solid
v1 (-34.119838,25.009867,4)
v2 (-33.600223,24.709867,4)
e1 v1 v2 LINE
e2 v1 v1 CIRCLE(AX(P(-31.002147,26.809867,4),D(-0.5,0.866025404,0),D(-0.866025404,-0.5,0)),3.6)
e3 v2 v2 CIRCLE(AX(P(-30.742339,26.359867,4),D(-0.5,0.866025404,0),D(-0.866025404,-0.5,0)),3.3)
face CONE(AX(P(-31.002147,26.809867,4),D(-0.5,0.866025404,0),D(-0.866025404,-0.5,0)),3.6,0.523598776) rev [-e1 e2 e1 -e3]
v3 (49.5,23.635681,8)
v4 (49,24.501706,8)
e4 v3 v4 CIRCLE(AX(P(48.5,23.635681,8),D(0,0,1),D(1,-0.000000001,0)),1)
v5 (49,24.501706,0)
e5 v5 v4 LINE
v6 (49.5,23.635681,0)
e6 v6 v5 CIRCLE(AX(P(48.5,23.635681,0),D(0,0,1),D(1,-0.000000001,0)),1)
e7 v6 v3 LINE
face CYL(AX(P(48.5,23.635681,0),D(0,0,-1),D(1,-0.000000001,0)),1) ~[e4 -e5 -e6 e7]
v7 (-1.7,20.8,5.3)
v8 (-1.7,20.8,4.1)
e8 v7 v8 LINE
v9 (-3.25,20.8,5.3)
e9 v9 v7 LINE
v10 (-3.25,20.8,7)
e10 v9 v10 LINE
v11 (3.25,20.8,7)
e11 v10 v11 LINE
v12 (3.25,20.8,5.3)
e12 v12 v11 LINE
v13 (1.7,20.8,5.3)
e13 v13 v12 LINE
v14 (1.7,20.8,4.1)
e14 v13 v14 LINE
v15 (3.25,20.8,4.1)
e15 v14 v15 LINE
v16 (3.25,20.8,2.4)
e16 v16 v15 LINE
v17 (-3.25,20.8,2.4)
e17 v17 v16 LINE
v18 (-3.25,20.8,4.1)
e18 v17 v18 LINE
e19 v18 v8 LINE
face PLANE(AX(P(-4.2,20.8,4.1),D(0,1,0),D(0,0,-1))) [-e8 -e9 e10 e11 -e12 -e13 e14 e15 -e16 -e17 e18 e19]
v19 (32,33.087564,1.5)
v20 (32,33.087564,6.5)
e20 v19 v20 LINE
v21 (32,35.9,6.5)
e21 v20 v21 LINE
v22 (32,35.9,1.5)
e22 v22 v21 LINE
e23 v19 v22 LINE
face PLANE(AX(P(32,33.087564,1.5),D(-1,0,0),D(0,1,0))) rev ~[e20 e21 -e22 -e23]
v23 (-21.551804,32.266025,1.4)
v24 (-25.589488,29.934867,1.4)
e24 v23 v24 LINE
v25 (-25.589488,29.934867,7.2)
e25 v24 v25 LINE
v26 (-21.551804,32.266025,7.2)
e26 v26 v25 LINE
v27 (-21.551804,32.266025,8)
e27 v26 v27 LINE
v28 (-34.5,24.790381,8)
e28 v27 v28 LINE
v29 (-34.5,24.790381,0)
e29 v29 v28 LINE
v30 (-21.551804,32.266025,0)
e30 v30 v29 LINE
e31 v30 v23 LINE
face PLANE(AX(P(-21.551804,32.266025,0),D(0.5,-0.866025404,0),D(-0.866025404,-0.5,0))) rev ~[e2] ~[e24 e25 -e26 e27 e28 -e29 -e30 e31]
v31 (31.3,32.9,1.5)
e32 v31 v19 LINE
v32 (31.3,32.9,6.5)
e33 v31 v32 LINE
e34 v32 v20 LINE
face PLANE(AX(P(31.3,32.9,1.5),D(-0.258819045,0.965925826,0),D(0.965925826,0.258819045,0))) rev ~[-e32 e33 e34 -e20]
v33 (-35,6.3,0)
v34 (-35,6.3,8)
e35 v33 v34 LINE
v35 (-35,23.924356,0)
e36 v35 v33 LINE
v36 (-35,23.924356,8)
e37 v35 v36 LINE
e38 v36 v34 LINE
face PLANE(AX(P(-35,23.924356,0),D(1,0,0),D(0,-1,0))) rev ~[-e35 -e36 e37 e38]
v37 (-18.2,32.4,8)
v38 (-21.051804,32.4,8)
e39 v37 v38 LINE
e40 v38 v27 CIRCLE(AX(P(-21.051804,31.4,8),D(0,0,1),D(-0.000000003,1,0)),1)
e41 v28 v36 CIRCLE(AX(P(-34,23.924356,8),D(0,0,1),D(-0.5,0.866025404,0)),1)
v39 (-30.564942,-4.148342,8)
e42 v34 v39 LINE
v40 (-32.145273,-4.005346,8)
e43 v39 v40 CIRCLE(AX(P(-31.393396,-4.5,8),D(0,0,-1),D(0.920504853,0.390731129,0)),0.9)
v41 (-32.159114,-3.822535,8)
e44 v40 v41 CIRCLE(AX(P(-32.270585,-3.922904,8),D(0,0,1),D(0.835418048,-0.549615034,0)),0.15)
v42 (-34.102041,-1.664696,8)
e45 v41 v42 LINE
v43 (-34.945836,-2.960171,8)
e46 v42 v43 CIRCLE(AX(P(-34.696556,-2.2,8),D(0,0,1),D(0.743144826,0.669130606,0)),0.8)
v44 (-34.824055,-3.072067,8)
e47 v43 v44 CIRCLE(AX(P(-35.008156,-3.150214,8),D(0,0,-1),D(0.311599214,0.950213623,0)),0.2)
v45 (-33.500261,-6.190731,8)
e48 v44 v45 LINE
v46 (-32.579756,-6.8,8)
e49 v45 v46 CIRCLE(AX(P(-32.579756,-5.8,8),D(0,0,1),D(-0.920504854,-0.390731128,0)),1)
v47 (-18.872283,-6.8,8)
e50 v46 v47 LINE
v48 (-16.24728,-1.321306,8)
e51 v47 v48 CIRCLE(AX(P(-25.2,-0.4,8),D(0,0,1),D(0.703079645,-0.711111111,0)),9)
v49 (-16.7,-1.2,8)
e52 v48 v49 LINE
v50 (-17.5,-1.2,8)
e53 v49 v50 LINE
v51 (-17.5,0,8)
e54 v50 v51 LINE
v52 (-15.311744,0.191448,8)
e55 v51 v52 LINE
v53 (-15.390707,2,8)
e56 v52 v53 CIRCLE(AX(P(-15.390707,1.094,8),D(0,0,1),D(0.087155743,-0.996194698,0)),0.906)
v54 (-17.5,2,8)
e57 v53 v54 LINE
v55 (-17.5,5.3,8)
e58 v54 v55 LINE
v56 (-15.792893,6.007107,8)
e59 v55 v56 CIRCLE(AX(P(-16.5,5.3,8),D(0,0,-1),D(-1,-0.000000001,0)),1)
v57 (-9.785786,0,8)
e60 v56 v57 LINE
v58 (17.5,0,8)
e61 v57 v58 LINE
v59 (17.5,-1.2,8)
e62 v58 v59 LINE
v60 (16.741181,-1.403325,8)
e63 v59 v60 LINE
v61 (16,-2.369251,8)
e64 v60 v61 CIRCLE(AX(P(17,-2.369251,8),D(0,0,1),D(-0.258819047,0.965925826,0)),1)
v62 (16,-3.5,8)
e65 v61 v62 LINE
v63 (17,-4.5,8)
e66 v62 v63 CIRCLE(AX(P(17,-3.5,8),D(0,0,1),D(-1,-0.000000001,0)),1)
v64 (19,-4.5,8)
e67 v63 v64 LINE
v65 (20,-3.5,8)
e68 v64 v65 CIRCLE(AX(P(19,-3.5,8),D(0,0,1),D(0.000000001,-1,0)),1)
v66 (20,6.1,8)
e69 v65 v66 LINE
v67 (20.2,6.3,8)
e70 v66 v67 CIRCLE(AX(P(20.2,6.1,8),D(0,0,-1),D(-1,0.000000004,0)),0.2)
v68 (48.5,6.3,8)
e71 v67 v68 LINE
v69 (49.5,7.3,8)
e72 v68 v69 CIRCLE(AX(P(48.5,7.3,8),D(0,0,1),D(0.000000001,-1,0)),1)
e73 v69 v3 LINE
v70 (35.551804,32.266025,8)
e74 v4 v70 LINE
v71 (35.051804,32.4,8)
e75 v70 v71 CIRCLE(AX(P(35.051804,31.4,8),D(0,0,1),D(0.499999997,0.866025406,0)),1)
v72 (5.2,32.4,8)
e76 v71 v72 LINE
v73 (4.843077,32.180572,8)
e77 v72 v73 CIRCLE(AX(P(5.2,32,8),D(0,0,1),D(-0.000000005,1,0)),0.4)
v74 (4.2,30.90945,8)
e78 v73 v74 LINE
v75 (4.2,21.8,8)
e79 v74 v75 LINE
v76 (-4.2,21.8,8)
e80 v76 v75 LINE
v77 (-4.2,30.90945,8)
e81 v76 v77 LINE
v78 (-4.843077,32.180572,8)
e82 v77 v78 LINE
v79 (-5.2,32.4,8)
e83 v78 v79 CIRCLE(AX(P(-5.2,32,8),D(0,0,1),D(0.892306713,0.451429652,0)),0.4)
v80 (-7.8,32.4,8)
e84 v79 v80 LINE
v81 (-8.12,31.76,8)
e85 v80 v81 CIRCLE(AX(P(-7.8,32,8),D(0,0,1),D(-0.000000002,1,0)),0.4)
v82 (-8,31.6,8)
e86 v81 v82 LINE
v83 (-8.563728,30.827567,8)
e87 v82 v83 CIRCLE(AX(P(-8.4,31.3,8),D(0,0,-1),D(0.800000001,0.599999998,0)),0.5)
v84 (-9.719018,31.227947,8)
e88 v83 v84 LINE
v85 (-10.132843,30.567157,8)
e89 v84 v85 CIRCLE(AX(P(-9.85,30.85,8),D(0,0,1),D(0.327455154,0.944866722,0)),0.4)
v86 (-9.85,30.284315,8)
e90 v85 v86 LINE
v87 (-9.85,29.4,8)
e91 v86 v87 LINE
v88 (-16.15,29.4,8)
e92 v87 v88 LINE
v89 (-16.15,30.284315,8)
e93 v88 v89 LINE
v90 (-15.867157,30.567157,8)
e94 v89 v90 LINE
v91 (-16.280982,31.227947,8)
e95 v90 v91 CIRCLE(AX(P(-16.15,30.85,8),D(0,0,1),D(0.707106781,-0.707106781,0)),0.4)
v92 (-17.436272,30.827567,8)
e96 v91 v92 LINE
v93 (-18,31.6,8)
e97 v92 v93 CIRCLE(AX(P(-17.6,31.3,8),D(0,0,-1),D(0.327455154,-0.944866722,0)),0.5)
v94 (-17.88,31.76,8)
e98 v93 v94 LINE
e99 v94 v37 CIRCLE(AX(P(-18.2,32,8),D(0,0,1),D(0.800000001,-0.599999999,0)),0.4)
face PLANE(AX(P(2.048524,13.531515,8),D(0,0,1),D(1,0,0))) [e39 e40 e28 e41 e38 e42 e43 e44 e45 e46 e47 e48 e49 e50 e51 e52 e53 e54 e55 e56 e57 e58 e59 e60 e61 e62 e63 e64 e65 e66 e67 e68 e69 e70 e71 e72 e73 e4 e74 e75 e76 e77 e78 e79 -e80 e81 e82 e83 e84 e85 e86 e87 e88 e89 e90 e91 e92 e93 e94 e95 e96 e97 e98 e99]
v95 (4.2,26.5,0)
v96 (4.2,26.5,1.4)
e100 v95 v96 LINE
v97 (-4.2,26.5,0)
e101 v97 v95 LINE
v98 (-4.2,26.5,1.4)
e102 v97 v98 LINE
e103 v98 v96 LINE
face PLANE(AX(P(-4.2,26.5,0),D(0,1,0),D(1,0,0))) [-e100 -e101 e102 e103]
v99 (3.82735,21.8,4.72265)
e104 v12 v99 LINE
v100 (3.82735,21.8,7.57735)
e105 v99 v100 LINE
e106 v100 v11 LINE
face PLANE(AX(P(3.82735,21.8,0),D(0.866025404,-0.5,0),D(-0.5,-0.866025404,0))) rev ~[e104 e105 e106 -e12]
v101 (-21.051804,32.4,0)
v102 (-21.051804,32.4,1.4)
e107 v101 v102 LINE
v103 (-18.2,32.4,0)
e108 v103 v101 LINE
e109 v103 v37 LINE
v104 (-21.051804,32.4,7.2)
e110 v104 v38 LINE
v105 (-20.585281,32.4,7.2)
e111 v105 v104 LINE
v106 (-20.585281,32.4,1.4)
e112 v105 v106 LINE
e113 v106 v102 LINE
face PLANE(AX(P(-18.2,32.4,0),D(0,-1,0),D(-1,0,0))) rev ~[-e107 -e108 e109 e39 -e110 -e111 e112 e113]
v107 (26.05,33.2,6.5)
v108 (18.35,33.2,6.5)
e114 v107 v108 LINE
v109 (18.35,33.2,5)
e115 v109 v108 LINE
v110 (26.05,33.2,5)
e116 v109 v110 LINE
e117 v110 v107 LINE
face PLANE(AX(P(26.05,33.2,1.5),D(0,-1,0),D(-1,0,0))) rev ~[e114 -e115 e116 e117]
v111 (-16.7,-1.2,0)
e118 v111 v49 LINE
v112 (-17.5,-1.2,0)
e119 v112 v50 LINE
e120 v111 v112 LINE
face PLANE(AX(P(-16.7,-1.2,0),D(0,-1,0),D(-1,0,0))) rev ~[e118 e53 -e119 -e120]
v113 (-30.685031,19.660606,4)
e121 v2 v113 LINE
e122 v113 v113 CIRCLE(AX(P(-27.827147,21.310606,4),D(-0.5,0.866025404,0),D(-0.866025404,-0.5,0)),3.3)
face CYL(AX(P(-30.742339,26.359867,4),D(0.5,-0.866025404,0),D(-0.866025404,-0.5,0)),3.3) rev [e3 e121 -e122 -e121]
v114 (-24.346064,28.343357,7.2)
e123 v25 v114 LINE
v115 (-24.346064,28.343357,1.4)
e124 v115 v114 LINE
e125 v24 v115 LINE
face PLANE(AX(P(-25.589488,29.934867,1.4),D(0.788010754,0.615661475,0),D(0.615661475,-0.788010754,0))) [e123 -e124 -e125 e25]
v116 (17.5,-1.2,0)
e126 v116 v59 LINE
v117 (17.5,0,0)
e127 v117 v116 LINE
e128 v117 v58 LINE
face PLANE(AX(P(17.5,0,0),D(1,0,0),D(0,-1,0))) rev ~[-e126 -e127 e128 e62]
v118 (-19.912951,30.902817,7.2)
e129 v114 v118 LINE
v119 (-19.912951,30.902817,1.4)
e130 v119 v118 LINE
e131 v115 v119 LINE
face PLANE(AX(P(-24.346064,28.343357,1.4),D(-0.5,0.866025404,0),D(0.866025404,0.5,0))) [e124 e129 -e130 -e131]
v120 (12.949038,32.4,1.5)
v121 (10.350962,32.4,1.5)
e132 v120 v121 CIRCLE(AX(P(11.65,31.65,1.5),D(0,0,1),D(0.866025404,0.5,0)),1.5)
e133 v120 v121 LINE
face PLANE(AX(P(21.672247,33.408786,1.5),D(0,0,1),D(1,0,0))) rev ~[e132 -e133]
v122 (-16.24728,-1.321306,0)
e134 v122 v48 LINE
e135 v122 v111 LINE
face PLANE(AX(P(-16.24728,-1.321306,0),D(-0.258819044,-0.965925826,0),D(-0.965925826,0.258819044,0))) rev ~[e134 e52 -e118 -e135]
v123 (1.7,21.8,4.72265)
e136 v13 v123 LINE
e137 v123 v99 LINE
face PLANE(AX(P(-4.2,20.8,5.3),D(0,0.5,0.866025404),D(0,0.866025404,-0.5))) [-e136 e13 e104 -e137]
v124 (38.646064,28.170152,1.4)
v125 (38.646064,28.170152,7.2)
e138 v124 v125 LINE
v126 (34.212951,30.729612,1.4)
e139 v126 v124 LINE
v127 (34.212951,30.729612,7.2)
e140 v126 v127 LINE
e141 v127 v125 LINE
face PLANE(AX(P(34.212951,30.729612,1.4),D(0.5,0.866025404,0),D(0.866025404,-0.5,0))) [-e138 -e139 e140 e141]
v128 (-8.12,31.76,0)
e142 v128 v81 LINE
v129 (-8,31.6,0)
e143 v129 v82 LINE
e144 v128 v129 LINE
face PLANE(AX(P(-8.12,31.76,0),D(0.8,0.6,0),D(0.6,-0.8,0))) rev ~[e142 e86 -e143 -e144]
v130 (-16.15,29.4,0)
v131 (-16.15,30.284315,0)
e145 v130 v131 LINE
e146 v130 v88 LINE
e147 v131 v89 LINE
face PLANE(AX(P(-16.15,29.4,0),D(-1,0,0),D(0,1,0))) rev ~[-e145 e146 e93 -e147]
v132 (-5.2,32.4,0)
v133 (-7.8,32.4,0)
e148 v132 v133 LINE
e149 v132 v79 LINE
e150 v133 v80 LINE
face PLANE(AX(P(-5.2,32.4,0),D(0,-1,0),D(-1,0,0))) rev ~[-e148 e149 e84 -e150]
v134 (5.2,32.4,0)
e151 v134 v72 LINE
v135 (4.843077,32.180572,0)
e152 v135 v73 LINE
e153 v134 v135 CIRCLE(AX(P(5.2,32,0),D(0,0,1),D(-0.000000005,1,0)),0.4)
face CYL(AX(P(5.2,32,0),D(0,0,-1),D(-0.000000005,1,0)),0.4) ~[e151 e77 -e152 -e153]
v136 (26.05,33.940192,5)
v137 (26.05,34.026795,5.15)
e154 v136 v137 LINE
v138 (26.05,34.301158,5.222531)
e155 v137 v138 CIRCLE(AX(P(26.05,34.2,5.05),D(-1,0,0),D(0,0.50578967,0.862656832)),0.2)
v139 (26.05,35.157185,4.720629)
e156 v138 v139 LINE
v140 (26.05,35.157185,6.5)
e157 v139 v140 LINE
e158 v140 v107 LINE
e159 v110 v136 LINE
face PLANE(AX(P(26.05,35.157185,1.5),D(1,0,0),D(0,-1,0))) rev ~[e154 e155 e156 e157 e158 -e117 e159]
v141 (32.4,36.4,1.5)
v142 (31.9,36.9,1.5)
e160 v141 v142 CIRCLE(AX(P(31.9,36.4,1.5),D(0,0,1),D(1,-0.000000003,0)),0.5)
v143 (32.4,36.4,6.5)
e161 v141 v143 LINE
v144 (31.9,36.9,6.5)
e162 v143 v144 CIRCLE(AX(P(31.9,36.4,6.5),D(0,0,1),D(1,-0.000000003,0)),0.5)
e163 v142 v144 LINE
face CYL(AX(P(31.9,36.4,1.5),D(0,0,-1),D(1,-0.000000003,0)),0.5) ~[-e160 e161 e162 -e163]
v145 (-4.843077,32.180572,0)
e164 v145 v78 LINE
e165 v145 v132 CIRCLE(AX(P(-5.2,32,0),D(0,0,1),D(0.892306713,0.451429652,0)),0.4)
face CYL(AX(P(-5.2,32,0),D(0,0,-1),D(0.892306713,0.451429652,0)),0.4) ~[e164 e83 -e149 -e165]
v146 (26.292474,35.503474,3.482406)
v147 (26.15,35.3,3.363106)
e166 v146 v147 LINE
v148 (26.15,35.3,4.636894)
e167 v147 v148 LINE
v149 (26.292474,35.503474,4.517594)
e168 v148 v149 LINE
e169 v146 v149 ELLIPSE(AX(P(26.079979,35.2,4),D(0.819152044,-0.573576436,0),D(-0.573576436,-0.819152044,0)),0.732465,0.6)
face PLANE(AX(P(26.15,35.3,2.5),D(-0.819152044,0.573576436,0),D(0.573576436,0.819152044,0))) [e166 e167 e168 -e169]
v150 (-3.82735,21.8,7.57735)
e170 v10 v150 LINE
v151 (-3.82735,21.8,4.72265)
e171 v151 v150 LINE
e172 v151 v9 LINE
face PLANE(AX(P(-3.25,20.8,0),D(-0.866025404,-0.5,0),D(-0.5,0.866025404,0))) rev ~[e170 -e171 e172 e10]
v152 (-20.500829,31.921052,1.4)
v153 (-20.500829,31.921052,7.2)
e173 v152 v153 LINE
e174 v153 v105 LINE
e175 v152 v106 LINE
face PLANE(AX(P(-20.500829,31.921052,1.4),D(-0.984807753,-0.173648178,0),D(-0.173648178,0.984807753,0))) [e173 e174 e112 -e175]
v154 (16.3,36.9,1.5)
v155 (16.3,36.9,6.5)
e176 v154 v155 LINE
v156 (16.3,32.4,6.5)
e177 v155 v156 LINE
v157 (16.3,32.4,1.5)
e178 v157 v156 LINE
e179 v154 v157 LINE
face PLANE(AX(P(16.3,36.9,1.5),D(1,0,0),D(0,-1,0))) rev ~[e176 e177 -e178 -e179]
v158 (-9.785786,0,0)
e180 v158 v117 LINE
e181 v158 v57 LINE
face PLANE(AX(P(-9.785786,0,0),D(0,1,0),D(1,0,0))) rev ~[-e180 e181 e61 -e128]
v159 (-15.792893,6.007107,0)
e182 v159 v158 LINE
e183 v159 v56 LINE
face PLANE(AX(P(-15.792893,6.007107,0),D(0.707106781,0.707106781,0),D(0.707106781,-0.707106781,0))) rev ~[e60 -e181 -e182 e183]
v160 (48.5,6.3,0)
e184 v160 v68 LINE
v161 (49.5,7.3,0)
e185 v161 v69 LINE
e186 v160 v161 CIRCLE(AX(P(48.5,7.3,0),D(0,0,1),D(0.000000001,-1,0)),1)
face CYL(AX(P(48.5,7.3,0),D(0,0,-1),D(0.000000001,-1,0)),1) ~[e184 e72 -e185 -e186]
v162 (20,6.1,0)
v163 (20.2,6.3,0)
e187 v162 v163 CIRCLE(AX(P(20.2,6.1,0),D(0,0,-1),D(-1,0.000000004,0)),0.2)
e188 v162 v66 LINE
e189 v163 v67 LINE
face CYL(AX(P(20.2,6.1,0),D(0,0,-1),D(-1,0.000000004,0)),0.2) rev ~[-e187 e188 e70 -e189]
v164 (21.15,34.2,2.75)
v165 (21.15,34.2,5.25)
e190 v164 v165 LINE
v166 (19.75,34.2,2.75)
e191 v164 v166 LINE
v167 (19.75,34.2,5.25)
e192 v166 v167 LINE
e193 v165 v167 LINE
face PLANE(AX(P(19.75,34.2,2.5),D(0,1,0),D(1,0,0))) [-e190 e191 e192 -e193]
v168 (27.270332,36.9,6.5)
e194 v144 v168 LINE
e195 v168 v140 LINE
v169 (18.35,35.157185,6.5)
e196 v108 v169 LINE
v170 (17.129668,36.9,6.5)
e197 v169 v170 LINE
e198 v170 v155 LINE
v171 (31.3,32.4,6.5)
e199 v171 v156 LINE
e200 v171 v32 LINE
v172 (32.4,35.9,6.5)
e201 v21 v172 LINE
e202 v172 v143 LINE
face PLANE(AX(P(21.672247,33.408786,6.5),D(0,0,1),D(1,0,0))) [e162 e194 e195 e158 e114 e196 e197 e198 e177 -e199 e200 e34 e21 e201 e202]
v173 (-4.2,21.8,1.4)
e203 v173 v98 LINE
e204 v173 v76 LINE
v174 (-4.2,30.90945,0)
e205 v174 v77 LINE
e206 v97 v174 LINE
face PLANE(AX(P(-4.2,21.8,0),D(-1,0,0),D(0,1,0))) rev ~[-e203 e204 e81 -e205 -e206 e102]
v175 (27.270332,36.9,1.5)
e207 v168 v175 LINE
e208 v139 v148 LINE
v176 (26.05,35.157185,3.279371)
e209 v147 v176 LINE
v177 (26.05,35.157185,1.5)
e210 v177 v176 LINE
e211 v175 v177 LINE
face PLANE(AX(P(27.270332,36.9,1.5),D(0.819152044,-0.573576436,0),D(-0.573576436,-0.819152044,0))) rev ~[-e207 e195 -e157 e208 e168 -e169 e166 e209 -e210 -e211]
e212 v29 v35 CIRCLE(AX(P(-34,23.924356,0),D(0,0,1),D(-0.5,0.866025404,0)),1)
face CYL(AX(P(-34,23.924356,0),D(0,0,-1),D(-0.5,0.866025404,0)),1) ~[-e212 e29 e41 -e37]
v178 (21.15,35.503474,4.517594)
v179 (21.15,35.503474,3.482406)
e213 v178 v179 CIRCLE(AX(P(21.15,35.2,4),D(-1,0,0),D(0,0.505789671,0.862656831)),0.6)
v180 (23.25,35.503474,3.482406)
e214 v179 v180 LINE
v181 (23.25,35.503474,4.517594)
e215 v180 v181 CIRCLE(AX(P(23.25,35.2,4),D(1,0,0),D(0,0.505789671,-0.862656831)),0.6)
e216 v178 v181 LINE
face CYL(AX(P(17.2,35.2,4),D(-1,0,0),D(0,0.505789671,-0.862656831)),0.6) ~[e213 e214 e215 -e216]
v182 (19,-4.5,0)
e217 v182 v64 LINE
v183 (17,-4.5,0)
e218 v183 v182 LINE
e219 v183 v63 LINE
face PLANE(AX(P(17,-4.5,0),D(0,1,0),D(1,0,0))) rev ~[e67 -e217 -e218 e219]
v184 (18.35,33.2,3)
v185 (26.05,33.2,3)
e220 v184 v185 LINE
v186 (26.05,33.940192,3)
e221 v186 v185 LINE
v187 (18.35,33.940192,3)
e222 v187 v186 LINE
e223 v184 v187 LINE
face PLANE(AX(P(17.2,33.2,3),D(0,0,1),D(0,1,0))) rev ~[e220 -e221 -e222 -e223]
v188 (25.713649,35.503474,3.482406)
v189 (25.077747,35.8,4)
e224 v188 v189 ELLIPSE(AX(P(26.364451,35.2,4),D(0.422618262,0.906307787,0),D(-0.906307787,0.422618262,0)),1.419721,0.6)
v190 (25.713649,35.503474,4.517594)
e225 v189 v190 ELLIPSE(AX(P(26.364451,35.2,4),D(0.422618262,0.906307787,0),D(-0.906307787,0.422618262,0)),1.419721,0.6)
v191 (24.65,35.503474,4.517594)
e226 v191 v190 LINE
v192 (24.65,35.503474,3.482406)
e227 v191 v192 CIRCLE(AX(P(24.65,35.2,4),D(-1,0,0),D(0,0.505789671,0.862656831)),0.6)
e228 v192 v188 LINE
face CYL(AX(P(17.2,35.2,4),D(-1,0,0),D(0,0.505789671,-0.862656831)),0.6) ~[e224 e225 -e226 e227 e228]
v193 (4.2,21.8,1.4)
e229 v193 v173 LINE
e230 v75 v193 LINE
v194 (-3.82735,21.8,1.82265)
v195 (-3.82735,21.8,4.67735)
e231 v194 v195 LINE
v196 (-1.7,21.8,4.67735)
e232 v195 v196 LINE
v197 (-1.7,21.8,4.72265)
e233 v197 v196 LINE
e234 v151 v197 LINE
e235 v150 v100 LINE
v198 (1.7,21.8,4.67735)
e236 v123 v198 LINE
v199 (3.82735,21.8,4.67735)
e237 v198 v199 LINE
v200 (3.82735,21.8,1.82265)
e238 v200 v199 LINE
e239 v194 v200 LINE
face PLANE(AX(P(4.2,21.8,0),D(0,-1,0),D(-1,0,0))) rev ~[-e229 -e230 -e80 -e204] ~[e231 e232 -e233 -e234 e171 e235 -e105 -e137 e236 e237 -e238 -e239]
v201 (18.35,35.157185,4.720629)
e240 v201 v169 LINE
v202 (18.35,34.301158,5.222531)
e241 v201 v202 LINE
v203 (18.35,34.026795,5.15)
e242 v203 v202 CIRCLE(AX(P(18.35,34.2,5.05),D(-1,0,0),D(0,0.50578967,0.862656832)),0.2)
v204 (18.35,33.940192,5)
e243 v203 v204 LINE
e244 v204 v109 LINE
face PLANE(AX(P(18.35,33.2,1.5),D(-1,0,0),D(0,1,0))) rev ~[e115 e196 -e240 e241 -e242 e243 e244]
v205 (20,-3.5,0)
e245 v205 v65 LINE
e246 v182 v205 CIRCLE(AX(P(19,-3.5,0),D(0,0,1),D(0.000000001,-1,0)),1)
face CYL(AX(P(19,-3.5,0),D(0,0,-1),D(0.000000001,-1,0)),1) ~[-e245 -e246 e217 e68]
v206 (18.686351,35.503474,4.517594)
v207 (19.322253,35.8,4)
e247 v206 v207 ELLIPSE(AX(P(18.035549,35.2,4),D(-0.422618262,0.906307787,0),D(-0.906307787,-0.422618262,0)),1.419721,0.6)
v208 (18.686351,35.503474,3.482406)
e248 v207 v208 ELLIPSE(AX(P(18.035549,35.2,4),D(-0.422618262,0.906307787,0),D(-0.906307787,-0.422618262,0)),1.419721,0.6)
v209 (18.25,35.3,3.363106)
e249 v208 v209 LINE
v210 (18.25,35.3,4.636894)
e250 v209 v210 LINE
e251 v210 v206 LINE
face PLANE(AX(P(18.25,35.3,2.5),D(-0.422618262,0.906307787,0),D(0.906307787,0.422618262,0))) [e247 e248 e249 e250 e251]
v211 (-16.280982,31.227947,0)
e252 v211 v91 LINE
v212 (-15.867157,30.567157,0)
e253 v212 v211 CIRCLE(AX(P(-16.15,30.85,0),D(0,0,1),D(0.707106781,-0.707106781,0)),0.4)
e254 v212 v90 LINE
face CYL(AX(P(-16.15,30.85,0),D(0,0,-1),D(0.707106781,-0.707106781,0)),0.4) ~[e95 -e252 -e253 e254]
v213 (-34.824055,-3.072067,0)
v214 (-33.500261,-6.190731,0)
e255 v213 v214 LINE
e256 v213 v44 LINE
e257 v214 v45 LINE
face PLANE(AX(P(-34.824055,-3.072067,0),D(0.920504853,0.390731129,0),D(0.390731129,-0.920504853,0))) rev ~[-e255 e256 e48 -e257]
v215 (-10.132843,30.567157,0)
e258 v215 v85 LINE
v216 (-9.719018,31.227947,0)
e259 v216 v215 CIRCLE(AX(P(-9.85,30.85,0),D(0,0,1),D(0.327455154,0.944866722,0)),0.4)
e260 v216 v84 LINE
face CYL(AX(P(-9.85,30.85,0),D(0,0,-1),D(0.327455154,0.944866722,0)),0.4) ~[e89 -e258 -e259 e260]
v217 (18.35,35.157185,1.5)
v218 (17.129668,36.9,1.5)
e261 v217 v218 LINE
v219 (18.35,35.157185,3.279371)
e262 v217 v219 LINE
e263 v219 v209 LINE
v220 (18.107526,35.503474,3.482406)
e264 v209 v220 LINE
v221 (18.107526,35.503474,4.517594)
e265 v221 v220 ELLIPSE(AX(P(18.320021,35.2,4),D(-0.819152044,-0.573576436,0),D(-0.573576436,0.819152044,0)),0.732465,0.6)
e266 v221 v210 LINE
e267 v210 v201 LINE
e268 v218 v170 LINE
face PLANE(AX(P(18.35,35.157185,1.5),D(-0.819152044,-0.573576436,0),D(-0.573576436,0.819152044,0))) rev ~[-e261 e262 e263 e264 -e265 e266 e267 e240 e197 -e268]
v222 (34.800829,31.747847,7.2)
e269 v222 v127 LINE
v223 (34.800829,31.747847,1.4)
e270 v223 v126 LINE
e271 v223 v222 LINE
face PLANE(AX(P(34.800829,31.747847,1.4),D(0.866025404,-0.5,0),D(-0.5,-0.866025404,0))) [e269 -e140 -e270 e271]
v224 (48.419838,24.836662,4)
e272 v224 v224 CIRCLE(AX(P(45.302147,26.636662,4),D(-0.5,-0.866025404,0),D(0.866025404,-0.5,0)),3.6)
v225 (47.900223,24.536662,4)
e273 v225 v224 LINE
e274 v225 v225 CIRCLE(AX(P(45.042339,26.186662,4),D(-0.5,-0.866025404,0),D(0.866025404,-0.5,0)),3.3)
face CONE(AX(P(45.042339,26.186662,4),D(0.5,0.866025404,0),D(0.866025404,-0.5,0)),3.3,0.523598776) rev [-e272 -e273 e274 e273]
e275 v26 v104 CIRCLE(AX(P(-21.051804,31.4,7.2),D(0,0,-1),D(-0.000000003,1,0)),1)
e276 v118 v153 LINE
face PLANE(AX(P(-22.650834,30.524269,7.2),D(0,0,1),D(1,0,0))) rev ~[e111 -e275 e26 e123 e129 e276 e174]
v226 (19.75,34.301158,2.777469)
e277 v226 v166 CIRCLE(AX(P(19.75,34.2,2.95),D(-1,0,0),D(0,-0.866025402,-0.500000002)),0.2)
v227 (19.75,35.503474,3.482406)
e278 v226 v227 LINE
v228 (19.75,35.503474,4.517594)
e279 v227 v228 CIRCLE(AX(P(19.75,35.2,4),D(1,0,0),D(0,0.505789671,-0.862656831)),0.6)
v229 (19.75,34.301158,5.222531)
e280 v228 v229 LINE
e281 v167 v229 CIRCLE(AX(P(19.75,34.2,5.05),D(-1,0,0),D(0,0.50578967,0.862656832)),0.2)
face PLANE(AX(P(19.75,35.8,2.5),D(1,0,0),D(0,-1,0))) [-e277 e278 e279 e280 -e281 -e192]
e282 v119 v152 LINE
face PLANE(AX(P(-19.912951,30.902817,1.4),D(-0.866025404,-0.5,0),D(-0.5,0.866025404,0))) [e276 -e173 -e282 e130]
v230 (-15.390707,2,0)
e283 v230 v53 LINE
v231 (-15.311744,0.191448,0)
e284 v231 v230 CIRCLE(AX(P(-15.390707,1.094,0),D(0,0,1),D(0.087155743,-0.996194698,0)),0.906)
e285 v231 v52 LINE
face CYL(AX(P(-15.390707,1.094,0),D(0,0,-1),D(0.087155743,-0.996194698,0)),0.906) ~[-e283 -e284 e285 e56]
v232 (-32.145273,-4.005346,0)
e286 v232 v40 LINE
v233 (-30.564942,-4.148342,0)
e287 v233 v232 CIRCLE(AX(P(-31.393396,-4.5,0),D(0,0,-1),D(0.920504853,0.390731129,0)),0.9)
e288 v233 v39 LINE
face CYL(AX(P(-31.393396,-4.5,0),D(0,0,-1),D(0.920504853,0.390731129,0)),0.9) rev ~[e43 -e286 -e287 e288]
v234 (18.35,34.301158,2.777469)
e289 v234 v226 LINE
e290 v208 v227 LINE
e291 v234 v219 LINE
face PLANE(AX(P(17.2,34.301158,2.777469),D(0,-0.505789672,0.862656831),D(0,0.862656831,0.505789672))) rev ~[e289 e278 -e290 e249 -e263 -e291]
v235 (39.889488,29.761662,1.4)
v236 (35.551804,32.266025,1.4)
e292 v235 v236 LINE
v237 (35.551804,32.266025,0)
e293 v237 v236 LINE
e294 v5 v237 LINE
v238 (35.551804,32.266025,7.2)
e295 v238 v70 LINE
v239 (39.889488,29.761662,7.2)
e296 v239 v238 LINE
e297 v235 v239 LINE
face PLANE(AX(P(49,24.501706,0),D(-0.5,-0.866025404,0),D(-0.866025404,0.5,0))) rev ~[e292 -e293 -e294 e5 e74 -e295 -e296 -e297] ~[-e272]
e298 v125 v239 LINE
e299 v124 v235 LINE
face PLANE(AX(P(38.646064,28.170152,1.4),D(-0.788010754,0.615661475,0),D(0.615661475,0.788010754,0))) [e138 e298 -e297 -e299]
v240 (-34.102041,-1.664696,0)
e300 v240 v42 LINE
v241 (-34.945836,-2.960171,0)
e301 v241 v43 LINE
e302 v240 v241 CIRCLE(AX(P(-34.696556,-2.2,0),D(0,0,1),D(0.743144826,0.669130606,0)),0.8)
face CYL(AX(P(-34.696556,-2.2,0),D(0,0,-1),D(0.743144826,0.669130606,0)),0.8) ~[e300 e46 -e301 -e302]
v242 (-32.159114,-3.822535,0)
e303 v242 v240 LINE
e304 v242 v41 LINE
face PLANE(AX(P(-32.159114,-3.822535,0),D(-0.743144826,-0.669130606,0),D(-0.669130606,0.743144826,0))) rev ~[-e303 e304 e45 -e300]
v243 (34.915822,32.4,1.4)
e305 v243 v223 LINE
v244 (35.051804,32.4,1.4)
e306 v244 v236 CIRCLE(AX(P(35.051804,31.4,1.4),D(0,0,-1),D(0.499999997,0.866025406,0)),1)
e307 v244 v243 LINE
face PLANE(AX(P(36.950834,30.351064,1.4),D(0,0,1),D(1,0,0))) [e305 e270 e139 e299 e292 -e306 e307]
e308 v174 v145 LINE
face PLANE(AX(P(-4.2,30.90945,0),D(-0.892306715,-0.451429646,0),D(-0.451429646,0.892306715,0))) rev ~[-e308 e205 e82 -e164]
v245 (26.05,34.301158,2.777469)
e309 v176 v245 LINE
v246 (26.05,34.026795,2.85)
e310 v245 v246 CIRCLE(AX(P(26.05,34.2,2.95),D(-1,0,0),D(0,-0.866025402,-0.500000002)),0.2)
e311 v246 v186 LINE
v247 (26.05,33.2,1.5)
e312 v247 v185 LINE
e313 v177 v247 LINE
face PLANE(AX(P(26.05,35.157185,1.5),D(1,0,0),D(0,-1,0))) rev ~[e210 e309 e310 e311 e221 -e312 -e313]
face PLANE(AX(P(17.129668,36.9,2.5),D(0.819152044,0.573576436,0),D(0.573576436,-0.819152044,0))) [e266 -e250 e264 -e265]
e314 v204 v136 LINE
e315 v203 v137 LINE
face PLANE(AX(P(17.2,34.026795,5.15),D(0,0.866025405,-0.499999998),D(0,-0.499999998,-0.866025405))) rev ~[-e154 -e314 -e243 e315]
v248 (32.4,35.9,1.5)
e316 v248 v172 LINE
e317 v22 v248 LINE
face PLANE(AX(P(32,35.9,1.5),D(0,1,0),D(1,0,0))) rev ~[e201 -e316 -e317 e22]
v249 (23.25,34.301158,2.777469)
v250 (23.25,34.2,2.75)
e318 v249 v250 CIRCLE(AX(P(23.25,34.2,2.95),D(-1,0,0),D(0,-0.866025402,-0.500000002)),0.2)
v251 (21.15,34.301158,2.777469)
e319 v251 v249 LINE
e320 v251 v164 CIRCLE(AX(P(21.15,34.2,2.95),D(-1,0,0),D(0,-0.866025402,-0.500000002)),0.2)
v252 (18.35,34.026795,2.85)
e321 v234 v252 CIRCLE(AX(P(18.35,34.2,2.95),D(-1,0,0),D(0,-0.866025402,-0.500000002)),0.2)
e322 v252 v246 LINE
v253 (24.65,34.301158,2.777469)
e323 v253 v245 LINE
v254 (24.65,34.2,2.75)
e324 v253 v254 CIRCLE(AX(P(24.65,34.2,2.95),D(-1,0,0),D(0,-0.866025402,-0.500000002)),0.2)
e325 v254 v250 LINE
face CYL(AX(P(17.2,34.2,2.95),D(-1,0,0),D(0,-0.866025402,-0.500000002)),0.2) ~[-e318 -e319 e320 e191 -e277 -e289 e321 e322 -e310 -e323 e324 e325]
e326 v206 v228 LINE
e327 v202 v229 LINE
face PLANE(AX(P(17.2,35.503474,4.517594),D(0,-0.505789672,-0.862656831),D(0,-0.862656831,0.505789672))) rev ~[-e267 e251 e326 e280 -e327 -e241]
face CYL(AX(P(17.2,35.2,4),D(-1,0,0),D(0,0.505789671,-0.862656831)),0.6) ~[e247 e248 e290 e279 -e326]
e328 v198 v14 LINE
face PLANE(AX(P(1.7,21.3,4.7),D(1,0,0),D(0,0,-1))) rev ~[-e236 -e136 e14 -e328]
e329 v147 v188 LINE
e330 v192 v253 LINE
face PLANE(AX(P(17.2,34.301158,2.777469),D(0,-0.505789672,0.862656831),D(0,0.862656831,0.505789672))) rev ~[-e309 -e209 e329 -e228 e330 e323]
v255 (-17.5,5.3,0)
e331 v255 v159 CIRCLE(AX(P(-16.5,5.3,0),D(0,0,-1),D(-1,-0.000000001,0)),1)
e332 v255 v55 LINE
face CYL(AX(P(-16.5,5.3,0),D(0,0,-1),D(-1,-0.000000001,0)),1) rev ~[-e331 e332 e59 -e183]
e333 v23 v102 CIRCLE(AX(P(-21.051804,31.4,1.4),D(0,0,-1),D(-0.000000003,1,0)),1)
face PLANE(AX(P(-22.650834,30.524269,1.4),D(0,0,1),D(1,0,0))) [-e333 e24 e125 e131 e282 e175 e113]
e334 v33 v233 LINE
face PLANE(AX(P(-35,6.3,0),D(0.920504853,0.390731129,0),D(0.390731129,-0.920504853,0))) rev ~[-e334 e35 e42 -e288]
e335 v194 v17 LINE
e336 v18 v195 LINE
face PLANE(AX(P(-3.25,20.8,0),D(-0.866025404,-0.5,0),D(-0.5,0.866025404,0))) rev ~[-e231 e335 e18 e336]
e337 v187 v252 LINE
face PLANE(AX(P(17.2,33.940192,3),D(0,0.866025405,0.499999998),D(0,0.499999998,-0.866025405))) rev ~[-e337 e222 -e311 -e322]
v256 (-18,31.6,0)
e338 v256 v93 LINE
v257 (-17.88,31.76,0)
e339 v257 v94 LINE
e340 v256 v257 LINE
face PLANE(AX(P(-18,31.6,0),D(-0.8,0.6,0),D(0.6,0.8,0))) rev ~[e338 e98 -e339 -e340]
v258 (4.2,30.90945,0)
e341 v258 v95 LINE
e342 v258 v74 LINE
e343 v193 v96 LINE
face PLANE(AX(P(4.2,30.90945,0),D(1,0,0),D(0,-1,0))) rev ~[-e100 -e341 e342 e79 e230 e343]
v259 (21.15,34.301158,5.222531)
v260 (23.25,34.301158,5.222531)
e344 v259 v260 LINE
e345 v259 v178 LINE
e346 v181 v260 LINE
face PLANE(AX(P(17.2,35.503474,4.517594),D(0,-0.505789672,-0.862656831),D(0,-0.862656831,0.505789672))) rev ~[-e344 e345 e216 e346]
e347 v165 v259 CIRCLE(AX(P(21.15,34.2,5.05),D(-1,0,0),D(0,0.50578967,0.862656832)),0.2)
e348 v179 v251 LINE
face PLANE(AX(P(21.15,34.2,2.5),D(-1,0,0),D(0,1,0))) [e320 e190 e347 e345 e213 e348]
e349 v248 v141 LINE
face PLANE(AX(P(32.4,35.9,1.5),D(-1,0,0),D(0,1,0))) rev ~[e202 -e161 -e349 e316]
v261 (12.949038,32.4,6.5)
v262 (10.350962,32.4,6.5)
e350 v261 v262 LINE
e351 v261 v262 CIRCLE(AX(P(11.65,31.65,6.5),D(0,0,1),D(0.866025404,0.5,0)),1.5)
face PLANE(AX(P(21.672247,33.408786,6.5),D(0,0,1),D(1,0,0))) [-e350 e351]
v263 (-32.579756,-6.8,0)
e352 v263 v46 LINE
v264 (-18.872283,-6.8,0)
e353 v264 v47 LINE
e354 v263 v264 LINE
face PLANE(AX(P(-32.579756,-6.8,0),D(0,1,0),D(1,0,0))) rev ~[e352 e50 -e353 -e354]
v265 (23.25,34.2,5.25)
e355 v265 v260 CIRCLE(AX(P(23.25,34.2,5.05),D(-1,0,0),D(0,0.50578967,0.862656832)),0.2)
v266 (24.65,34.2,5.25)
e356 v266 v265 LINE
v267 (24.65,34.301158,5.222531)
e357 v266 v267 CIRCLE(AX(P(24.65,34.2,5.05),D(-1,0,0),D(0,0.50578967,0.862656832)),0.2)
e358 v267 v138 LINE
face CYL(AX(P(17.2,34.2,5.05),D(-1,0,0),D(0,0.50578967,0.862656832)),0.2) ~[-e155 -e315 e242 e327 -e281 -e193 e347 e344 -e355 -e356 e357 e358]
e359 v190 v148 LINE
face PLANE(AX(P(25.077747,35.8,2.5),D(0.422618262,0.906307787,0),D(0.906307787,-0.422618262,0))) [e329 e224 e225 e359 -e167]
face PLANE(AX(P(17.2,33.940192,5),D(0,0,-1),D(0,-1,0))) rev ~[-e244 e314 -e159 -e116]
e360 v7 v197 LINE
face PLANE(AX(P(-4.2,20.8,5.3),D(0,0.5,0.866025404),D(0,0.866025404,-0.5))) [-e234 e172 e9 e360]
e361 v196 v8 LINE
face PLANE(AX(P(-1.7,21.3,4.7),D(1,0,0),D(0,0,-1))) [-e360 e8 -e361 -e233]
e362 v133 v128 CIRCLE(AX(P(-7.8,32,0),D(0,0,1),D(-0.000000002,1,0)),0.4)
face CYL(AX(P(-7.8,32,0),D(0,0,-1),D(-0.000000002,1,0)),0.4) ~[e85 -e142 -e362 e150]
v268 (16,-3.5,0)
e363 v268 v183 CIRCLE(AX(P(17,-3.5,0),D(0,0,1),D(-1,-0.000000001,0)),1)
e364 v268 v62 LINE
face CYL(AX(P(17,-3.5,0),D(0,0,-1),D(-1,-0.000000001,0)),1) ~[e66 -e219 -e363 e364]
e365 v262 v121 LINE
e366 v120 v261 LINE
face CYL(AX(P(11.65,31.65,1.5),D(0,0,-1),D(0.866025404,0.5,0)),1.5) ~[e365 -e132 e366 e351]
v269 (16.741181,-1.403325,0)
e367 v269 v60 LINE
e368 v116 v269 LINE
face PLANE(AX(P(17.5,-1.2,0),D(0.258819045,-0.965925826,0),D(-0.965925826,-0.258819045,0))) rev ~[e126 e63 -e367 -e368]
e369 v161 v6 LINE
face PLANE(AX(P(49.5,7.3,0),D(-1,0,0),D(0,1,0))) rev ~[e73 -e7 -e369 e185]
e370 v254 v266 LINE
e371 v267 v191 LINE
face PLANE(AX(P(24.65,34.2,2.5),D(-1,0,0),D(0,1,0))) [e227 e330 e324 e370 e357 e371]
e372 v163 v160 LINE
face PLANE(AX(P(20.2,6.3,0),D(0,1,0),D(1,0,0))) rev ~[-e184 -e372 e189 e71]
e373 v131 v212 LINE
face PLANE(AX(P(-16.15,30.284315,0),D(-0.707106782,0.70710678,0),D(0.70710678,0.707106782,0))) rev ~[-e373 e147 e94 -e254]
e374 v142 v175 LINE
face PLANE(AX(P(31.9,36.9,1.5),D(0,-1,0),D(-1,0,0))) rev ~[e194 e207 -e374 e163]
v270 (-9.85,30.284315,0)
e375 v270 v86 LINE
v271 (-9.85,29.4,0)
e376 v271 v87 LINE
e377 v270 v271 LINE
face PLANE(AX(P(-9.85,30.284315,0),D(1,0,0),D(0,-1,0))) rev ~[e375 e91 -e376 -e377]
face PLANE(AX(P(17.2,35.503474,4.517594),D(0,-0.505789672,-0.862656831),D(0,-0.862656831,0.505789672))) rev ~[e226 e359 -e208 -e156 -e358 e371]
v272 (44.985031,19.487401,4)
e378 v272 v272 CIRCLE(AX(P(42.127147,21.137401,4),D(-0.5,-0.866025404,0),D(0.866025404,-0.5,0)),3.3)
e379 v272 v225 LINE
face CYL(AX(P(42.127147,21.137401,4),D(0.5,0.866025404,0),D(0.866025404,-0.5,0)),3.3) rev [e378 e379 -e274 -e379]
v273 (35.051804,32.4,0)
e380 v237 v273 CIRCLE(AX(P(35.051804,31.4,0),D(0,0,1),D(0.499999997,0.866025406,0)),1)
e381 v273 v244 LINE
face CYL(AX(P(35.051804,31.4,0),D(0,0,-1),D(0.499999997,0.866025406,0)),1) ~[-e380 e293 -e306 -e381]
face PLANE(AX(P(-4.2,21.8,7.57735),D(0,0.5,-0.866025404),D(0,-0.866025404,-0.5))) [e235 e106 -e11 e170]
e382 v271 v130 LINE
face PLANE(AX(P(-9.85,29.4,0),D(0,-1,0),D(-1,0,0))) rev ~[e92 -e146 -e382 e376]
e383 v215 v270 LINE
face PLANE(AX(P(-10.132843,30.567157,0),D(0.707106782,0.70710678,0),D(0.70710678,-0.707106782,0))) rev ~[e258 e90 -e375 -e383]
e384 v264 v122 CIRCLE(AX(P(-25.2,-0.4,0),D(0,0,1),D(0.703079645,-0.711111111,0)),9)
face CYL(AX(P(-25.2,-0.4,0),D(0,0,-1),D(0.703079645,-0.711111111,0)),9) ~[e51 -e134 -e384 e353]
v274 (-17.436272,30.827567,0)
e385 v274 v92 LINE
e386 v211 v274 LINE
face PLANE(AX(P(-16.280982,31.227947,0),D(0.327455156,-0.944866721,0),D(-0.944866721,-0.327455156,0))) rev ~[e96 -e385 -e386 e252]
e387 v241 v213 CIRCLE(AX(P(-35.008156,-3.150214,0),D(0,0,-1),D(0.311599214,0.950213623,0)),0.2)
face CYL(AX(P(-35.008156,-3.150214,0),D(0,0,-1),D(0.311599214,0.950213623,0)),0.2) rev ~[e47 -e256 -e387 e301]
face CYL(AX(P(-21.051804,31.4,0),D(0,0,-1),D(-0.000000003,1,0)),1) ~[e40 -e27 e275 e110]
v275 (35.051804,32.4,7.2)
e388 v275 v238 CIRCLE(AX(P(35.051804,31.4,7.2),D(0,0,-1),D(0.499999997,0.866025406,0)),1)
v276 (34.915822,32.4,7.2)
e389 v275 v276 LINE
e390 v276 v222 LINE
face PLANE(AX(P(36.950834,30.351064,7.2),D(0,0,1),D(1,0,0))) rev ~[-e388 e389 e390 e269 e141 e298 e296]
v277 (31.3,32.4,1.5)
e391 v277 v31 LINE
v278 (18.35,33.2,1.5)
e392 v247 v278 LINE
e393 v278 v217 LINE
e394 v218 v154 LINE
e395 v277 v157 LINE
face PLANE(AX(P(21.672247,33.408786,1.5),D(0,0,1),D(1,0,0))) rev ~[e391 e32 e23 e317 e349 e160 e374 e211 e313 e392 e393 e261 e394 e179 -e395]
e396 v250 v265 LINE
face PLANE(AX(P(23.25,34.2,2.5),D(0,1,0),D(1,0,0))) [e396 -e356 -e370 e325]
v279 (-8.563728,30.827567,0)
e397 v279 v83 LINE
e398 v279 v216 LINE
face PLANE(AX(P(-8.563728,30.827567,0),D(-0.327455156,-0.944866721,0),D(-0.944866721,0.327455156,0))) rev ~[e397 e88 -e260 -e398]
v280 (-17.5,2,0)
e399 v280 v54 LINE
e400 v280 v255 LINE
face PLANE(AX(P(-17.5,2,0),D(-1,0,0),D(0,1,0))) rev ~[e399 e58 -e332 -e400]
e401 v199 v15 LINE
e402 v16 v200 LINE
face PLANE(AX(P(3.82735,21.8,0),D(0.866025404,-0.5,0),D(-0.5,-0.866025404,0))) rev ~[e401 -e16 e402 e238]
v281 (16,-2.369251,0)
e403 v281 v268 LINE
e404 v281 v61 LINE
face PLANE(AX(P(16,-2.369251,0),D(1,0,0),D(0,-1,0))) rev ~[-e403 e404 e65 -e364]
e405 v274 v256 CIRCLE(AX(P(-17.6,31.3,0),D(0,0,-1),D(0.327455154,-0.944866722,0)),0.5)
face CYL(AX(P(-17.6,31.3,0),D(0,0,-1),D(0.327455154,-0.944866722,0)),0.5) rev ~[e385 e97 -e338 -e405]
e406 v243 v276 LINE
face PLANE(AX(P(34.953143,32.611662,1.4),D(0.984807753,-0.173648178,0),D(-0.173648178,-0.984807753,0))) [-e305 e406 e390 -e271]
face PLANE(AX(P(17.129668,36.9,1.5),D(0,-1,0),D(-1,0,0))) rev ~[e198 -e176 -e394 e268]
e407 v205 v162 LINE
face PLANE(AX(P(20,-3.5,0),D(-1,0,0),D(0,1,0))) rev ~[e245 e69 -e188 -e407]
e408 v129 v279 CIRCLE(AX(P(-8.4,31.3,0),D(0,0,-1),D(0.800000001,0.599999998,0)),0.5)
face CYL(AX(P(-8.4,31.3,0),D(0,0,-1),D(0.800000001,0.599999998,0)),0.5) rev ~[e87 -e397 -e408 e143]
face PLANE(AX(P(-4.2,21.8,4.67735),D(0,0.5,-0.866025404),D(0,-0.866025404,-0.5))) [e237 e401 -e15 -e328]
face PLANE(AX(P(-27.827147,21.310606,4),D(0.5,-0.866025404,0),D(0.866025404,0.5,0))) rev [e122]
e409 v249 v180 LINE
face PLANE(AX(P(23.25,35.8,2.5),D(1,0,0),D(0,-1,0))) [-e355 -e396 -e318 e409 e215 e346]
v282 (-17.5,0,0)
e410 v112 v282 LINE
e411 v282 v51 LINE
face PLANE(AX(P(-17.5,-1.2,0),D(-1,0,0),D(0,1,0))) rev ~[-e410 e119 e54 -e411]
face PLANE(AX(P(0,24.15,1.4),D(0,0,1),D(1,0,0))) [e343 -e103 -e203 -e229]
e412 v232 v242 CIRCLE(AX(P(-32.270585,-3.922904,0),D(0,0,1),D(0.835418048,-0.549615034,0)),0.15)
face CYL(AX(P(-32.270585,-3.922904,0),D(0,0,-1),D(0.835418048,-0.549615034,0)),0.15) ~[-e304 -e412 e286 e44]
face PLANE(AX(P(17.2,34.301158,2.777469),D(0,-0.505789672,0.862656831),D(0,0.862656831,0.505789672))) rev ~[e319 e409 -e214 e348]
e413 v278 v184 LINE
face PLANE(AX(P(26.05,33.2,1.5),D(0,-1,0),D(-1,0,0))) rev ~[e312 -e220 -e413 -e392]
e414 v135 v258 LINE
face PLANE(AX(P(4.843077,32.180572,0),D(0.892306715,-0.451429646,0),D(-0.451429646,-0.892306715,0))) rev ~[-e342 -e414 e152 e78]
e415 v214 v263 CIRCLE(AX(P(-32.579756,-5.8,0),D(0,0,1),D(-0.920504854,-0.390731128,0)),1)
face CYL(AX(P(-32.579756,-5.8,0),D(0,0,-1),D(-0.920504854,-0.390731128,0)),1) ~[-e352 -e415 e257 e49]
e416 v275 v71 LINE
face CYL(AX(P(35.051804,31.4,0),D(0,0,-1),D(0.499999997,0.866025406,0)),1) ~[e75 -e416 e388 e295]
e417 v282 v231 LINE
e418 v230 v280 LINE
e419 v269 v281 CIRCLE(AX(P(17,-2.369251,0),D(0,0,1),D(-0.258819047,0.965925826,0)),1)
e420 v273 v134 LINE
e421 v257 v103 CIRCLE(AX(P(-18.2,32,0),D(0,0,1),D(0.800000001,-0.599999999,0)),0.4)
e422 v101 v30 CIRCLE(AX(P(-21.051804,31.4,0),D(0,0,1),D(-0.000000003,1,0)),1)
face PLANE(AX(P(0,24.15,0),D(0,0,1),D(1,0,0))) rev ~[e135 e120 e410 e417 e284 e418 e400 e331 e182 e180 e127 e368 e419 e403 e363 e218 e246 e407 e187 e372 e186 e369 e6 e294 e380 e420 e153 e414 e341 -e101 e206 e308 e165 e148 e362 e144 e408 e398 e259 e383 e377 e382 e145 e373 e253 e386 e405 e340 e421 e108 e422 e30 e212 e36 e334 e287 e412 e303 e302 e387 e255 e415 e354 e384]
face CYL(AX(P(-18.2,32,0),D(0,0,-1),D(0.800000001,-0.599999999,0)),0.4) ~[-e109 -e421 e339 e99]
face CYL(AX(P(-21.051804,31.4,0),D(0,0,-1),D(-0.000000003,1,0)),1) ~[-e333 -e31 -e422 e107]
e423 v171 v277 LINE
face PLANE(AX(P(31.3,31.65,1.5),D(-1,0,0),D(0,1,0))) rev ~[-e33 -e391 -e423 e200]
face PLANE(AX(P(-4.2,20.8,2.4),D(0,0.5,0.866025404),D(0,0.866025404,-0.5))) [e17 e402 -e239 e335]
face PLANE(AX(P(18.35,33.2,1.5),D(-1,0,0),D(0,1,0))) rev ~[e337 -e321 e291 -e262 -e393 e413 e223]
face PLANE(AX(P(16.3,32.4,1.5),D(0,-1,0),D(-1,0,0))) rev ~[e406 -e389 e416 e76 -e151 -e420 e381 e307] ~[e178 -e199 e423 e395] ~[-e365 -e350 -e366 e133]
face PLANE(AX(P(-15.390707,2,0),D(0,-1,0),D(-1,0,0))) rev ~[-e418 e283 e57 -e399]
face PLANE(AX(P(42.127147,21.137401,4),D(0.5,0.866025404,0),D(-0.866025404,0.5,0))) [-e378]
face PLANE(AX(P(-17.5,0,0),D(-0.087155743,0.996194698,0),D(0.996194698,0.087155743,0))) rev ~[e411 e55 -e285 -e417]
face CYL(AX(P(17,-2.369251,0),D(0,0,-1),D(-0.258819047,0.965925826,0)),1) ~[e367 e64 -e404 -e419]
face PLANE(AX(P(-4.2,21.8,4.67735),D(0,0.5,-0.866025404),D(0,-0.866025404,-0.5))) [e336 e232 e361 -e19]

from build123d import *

# Parameters (mm, degrees)
EXTRUDE1_DEPTH       = 8
SKETCH2_W            = 8.4
SKETCH2_H            = 4.7
EXTRUDE2_DEPTH       = 1.4
EXTRUDE3_DEPTH       = 4.2
EXTRUDE3_DEPTH_BACK  = 4.2
EXTRUDE4_DEPTH       = 4.2
EXTRUDE4_DEPTH_BACK  = 4.2
EXTRUDE5_DEPTH       = 1.7
EXTRUDE5_DEPTH_BACK  = 1.7
SKETCH5_W            = 2
SKETCH5_H            = 1
EXTRUDE6_DEPTH       = 8
EXTRUDE7_DEPTH       = 8
EXTRUDE8_DEPTH       = 5.8
EXTRUDE9_DEPTH       = 5.8
EXTRUDE10_DEPTH      = 2.5
EXTRUDE10_DEPTH_BACK = 2.5
EXTRUDE11_DEPTH      = 5
EXTRUDE11_DEPTH_BACK = 5
EXTRUDE12_DEPTH      = 1.5
EXTRUDE12_DEPTH_BACK = 1.5


with BuildPart() as part:
    # Sketch1 → Extrude1 (new body)
    with BuildSketch(Plane.XY):
        with BuildLine():
            Line((-34.824054735, -3.072067398), (-33.500260521, -6.190731128))
            ThreePointArc((-33.500260521, -6.190731128), (-33.131692653, -6.633885822), (-32.579755667, -6.8))
            Line((-32.579755667, -6.8), (-18.872283192, -6.8))
            ThreePointArc((-18.872283192, -6.8), (-17.083537757, -4.288835387), (-16.247280004, -1.321305957))
            Line((-16.247280004, -1.321305957), (-16.7, -1.2))
            Line((-16.7, -1.2), (-17.5, -1.2))
            Line((-17.5, -1.2), (-17.5, 0))
            Line((-17.5, 0), (-15.311743878, 0.191447604))
            ThreePointArc((-15.311743878, 0.191447604), (-14.485569293, 1.133519165), (-15.390706981, 2))
            Line((-15.390706981, 2), (-17.5, 2))
            Line((-17.5, 2), (-17.5, 5.3))
            ThreePointArc((-17.5, 5.3), (-16.882683432, 6.223879533), (-15.792893219, 6.007106781))
            Line((-15.792893219, 6.007106781), (-9.785786438, 0))
            Line((-9.785786438, 0), (17.5, 0))
            Line((17.5, 0), (17.5, -1.2))
            Line((17.5, -1.2), (16.741180955, -1.40332495))
            ThreePointArc((16.741180955, -1.40332495), (16.20664666, -1.760489348), (16, -2.369250777))
            Line((16, -2.369250777), (16, -3.5))
            ThreePointArc((16, -3.5), (16.292893219, -4.207106781), (17, -4.5))
            Line((17, -4.5), (19, -4.5))
            ThreePointArc((19, -4.5), (19.707106781, -4.207106781), (20, -3.5))
            Line((20, -3.5), (20, 6.1))
            ThreePointArc((20, 6.1), (20.058578644, 6.241421356), (20.2, 6.3))
            Line((20.2, 6.3), (48.5, 6.3))
            ThreePointArc((48.5, 6.3), (49.207106781, 6.592893219), (49.5, 7.3))
            Line((49.5, 7.3), (49.5, 23.635680518))
            ThreePointArc((49.5, 23.635680518), (49.366025404, 24.135680518), (49, 24.501705922))
            Line((49, 24.501705922), (35.551804172, 32.266025404))
            ThreePointArc((35.551804172, 32.266025404), (35.310623217, 32.365925826), (35.051804172, 32.4))
            Line((35.051804172, 32.4), (5.2, 32.4))
            ThreePointArc((5.2, 32.4), (4.990511031, 32.340755589), (4.843077314, 32.180571859))
            Line((4.843077314, 32.180571859), (4.2, 30.909449746))
            Line((4.2, 30.909449746), (4.2, 21.8))
            Line((4.2, 21.8), (-4.2, 21.8))
            Line((-4.2, 21.8), (-4.2, 30.909449746))
            Line((-4.2, 30.909449746), (-4.843077314, 32.180571859))
            ThreePointArc((-4.843077314, 32.180571859), (-4.990511031, 32.340755589), (-5.2, 32.4))
            Line((-5.2, 32.4), (-7.8, 32.4))
            ThreePointArc((-7.8, 32.4), (-8.157770876, 32.178885438), (-8.12, 31.76))
            Line((-8.12, 31.76), (-8, 31.6))
            ThreePointArc((-8, 31.6), (-7.996119463, 31.005244998), (-8.563727578, 30.827566639))
            Line((-8.563727578, 30.827566639), (-9.719017938, 31.227946689))
            ThreePointArc((-9.719017938, 31.227946689), (-10.189007481, 31.062306212), (-10.132842712, 30.567157288))
            Line((-10.132842712, 30.567157288), (-9.85, 30.284314575))
            Line((-9.85, 30.284314575), (-9.85, 29.4))
            Line((-9.85, 29.4), (-13, 29.4))
            Line((-13, 29.4), (-16.15, 29.4))
            Line((-16.15, 29.4), (-16.15, 30.284314575))
            Line((-16.15, 30.284314575), (-15.867157288, 30.567157288))
            ThreePointArc((-15.867157288, 30.567157288), (-15.810992519, 31.062306212), (-16.280982062, 31.227946689))
            Line((-16.280982062, 31.227946689), (-17.436272422, 30.827566639))
            ThreePointArc((-17.436272422, 30.827566639), (-18.003880537, 31.005244998), (-18, 31.6))
            Line((-18, 31.6), (-17.88, 31.76))
            ThreePointArc((-17.88, 31.76), (-17.842229124, 32.178885438), (-18.2, 32.4))
            Line((-18.2, 32.4), (-21.051804172, 32.4))
            ThreePointArc((-21.051804172, 32.4), (-21.310623217, 32.365925826), (-21.551804172, 32.266025404))
            Line((-21.551804172, 32.266025404), (-34.5, 24.790381057))
            ThreePointArc((-34.5, 24.790381057), (-34.866025404, 24.424355653), (-35, 23.924355653))
            Line((-35, 23.924355653), (-35, 6.3))
            Line((-35, 6.3), (-30.564941956, -4.148341984))
            ThreePointArc((-30.564941956, -4.148341984), (-31.474501075, -5.396338117), (-32.145272576, -4.005346482))
            ThreePointArc((-32.145272576, -4.005346482), (-32.121013363, -3.911579893), (-32.15911356, -3.822534638))
            Line((-32.15911356, -3.822534638), (-34.102040633, -1.664695515))
            ThreePointArc((-34.102040633, -1.664695515), (-35.366900567, -1.76337794), (-34.945835863, -2.960170899))
            ThreePointArc((-34.945835863, -2.960170899), (-34.872837521, -3.002941804), (-34.824054735, -3.072067398))
        make_face()
    extrude(amount=EXTRUDE1_DEPTH)

    # Sketch2 → Extrude2 (add)
    with BuildSketch(Plane.XY):
        with Locations((0, 24.15)):
            Rectangle(SKETCH2_W, SKETCH2_H)
    extrude(amount=EXTRUDE2_DEPTH)

    # Sketch3 → Extrude3 (cut, two sides: drawn at the far end of the back side and taken through both)
    with BuildSketch(Plane(origin=(0, 0, 0), x_dir=(0, 0, -1), z_dir=(1, 0, 0)).offset(-EXTRUDE3_DEPTH_BACK)):
        Polygon((-7.577350269, 21.8), (-7, 20.8), (-5.3, 20.8), (-4.722649731, 21.8), align=None)
    extrude(amount=EXTRUDE3_DEPTH + EXTRUDE3_DEPTH_BACK, mode=Mode.SUBTRACT)

    # Sketch4 → Extrude4 (cut, two sides: drawn at the far end of the back side and taken through both)
    with BuildSketch(Plane(origin=(0, 0, 0), x_dir=(0, 0, -1), z_dir=(1, 0, 0)).offset(-EXTRUDE4_DEPTH_BACK)):
        Polygon((-4.677350269, 21.8), (-4.1, 20.8), (-2.4, 20.8), (-1.822649731, 21.8), align=None)
    extrude(amount=EXTRUDE4_DEPTH + EXTRUDE4_DEPTH_BACK, mode=Mode.SUBTRACT)

    # Sketch5 → Extrude5 (cut, two sides: drawn at the far end of the back side and taken through both)
    with BuildSketch(Plane(origin=(0, 0, 0), x_dir=(0, 0, -1), z_dir=(1, 0, 0)).offset(-EXTRUDE5_DEPTH_BACK)):
        with Locations((-4.7, 21.3)):
            Rectangle(SKETCH5_W, SKETCH5_H)
    extrude(amount=EXTRUDE5_DEPTH + EXTRUDE5_DEPTH_BACK, mode=Mode.SUBTRACT)

    # Sketch6 → Extrude6 (add)
    with BuildSketch(Plane.XY):
        Polygon((3.25, 20.8), (4.2, 20.8), (4.2, 21.8), (3.827350269, 21.8), align=None)
    extrude(amount=EXTRUDE6_DEPTH)

    # Sketch7 → Extrude7 (add)
    with BuildSketch(Plane.XY):
        Polygon((-4.2, 21.8), (-4.2, 20.8), (-3.25, 20.8), (-3.827350269, 21.8), align=None)
    extrude(amount=EXTRUDE7_DEPTH)

    # Sketch8 → Cut-Revolve1 (revolve, cut)
    with BuildSketch(Plane.XY.offset(4), mode=Mode.PRIVATE) as cut_revolve1_sk:
        Polygon((42.127146997, 21.137401035), (39.269263165, 22.787401035), (42.184455543, 27.836662349), (42.184455543, 28.436662349), (45.302146997, 26.636662349), align=None)
    revolve(cut_revolve1_sk.sketch.rotate(Axis((45.302146997, 26.636662349, 4), (-0.4999999999999722, -0.8660254037844548, 0)), 180), axis=Axis((45.302146997, 26.636662349, 4), (-0.4999999999999722, -0.8660254037844548, 0)), mode=Mode.SUBTRACT)

    # Sketch9 → Cut-Revolve2 (revolve, cut)
    with BuildSketch(Plane.XY.offset(4), mode=Mode.PRIVATE) as cut_revolve2_sk:
        Polygon((-31.002146997, 26.80986743), (-27.884455543, 28.60986743), (-27.884455543, 28.00986743), (-24.969263165, 22.960606116), (-27.827146997, 21.310606116), align=None)
    revolve(cut_revolve2_sk.sketch.rotate(Axis((-27.827146997, 21.310606116, 4), (-0.49999999999997385, 0.8660254037844538, 0)), 180), axis=Axis((-27.827146997, 21.310606116, 4), (-0.49999999999997385, 0.8660254037844538, 0)), mode=Mode.SUBTRACT)

    # Sketch10 → Extrude8 (cut)
    with BuildSketch(Plane.XY.offset(1.4)):
        Polygon((34.212951043, 30.729611541), (38.646064357, 28.170152376), (39.889488223, 29.761662349), (34.953143422, 32.611662349), (34.80082943, 31.747846776), align=None)
    extrude(amount=EXTRUDE8_DEPTH, mode=Mode.SUBTRACT)

    # Sketch11 → Extrude9 (cut)
    with BuildSketch(Plane.XY.offset(1.4)):
        Polygon((-25.589488223, 29.93486743), (-24.346064357, 28.343357457), (-19.912951043, 30.902816622), (-20.50082943, 31.921051857), (-20.653143422, 32.78486743), align=None)
    extrude(amount=EXTRUDE9_DEPTH, mode=Mode.SUBTRACT)

    # Sketch12 → Extrude10 (add, two sides: drawn at the far end of the back side and taken through both)
    with BuildSketch(Plane.XY.offset(4).offset(-EXTRUDE10_DEPTH_BACK)):
        with BuildLine():
            Line((10.15, 31.65), (31.3, 31.65))
            Line((31.3, 31.65), (31.3, 32.9))
            Line((31.3, 32.9), (32, 33.087564435))
            Line((32, 33.087564435), (32, 35.9))
            Line((32, 35.9), (32.4, 35.9))
            Line((32.4, 35.9), (32.4, 36.4))
            ThreePointArc((32.4, 36.4), (32.253553391, 36.753553391), (31.9, 36.9))
            Line((31.9, 36.9), (27.270332061, 36.9))
            Line((27.270332061, 36.9), (26.05, 35.157185199))
            Line((26.05, 35.157185199), (26.05, 33.2))
            Line((26.05, 33.2), (18.35, 33.2))
            Line((18.35, 33.2), (18.35, 35.157185199))
            Line((18.35, 35.157185199), (17.129667939, 36.9))
            Line((17.129667939, 36.9), (16.3, 36.9))
            Line((16.3, 36.9), (16.3, 32.4))
            Line((16.3, 32.4), (12.949038106, 32.4))
            ThreePointArc((12.949038106, 32.4), (11.261771432, 33.098888739), (10.15, 31.65))
        make_face()
    extrude(amount=EXTRUDE10_DEPTH + EXTRUDE10_DEPTH_BACK)

    # Sketch13 → Extrude11 (add, two sides: drawn at the far end of the back side and taken through both)
    with BuildSketch(Plane(origin=(22.2, 0, 0), x_dir=(0, 0, -1), z_dir=(1, 0, 0)).offset(-EXTRUDE11_DEPTH_BACK)):
        with BuildLine():
            Line((-5.15, 34.026794919), (-5, 33.940192379))
            Line((-5, 33.940192379), (-5, 33.2))
            Line((-5, 33.2), (-3, 33.2))
            Line((-3, 33.2), (-3, 33.940192379))
            Line((-3, 33.940192379), (-2.85, 34.026794919))
            ThreePointArc((-2.85, 34.026794919), (-2.756642553, 34.14888349), (-2.777468634, 34.301157934))
            Line((-2.777468634, 34.301157934), (-3.482405902, 35.503473803))
            ThreePointArc((-3.482405902, 35.503473803), (-4, 35.8), (-4.517594098, 35.503473803))
            Line((-4.517594098, 35.503473803), (-5.222531366, 34.301157934))
            ThreePointArc((-5.222531366, 34.301157934), (-5.243357447, 34.14888349), (-5.15, 34.026794919))
        make_face()
    extrude(amount=EXTRUDE11_DEPTH + EXTRUDE11_DEPTH_BACK)

    # Sketch14 → Extrude12 (cut, two sides: drawn at the far end of the back side and taken through both)
    with BuildSketch(Plane.XY.offset(4).offset(-EXTRUDE12_DEPTH_BACK)):
        Polygon((17.129667939, 36.9), (18.25, 35.3), (19.32225346, 35.8), (19.75, 35.8), (19.75, 34.2), (21.15, 34.2), (21.15, 35.8), (23.25, 35.8), (23.25, 34.2), (24.65, 34.2), (24.65, 35.8), (25.07774654, 35.8), (26.15, 35.3), (27.270332061, 36.9), (22.2, 36.9), align=None)
    extrude(amount=EXTRUDE12_DEPTH + EXTRUDE12_DEPTH_BACK, mode=Mode.SUBTRACT)


solid = part.part
